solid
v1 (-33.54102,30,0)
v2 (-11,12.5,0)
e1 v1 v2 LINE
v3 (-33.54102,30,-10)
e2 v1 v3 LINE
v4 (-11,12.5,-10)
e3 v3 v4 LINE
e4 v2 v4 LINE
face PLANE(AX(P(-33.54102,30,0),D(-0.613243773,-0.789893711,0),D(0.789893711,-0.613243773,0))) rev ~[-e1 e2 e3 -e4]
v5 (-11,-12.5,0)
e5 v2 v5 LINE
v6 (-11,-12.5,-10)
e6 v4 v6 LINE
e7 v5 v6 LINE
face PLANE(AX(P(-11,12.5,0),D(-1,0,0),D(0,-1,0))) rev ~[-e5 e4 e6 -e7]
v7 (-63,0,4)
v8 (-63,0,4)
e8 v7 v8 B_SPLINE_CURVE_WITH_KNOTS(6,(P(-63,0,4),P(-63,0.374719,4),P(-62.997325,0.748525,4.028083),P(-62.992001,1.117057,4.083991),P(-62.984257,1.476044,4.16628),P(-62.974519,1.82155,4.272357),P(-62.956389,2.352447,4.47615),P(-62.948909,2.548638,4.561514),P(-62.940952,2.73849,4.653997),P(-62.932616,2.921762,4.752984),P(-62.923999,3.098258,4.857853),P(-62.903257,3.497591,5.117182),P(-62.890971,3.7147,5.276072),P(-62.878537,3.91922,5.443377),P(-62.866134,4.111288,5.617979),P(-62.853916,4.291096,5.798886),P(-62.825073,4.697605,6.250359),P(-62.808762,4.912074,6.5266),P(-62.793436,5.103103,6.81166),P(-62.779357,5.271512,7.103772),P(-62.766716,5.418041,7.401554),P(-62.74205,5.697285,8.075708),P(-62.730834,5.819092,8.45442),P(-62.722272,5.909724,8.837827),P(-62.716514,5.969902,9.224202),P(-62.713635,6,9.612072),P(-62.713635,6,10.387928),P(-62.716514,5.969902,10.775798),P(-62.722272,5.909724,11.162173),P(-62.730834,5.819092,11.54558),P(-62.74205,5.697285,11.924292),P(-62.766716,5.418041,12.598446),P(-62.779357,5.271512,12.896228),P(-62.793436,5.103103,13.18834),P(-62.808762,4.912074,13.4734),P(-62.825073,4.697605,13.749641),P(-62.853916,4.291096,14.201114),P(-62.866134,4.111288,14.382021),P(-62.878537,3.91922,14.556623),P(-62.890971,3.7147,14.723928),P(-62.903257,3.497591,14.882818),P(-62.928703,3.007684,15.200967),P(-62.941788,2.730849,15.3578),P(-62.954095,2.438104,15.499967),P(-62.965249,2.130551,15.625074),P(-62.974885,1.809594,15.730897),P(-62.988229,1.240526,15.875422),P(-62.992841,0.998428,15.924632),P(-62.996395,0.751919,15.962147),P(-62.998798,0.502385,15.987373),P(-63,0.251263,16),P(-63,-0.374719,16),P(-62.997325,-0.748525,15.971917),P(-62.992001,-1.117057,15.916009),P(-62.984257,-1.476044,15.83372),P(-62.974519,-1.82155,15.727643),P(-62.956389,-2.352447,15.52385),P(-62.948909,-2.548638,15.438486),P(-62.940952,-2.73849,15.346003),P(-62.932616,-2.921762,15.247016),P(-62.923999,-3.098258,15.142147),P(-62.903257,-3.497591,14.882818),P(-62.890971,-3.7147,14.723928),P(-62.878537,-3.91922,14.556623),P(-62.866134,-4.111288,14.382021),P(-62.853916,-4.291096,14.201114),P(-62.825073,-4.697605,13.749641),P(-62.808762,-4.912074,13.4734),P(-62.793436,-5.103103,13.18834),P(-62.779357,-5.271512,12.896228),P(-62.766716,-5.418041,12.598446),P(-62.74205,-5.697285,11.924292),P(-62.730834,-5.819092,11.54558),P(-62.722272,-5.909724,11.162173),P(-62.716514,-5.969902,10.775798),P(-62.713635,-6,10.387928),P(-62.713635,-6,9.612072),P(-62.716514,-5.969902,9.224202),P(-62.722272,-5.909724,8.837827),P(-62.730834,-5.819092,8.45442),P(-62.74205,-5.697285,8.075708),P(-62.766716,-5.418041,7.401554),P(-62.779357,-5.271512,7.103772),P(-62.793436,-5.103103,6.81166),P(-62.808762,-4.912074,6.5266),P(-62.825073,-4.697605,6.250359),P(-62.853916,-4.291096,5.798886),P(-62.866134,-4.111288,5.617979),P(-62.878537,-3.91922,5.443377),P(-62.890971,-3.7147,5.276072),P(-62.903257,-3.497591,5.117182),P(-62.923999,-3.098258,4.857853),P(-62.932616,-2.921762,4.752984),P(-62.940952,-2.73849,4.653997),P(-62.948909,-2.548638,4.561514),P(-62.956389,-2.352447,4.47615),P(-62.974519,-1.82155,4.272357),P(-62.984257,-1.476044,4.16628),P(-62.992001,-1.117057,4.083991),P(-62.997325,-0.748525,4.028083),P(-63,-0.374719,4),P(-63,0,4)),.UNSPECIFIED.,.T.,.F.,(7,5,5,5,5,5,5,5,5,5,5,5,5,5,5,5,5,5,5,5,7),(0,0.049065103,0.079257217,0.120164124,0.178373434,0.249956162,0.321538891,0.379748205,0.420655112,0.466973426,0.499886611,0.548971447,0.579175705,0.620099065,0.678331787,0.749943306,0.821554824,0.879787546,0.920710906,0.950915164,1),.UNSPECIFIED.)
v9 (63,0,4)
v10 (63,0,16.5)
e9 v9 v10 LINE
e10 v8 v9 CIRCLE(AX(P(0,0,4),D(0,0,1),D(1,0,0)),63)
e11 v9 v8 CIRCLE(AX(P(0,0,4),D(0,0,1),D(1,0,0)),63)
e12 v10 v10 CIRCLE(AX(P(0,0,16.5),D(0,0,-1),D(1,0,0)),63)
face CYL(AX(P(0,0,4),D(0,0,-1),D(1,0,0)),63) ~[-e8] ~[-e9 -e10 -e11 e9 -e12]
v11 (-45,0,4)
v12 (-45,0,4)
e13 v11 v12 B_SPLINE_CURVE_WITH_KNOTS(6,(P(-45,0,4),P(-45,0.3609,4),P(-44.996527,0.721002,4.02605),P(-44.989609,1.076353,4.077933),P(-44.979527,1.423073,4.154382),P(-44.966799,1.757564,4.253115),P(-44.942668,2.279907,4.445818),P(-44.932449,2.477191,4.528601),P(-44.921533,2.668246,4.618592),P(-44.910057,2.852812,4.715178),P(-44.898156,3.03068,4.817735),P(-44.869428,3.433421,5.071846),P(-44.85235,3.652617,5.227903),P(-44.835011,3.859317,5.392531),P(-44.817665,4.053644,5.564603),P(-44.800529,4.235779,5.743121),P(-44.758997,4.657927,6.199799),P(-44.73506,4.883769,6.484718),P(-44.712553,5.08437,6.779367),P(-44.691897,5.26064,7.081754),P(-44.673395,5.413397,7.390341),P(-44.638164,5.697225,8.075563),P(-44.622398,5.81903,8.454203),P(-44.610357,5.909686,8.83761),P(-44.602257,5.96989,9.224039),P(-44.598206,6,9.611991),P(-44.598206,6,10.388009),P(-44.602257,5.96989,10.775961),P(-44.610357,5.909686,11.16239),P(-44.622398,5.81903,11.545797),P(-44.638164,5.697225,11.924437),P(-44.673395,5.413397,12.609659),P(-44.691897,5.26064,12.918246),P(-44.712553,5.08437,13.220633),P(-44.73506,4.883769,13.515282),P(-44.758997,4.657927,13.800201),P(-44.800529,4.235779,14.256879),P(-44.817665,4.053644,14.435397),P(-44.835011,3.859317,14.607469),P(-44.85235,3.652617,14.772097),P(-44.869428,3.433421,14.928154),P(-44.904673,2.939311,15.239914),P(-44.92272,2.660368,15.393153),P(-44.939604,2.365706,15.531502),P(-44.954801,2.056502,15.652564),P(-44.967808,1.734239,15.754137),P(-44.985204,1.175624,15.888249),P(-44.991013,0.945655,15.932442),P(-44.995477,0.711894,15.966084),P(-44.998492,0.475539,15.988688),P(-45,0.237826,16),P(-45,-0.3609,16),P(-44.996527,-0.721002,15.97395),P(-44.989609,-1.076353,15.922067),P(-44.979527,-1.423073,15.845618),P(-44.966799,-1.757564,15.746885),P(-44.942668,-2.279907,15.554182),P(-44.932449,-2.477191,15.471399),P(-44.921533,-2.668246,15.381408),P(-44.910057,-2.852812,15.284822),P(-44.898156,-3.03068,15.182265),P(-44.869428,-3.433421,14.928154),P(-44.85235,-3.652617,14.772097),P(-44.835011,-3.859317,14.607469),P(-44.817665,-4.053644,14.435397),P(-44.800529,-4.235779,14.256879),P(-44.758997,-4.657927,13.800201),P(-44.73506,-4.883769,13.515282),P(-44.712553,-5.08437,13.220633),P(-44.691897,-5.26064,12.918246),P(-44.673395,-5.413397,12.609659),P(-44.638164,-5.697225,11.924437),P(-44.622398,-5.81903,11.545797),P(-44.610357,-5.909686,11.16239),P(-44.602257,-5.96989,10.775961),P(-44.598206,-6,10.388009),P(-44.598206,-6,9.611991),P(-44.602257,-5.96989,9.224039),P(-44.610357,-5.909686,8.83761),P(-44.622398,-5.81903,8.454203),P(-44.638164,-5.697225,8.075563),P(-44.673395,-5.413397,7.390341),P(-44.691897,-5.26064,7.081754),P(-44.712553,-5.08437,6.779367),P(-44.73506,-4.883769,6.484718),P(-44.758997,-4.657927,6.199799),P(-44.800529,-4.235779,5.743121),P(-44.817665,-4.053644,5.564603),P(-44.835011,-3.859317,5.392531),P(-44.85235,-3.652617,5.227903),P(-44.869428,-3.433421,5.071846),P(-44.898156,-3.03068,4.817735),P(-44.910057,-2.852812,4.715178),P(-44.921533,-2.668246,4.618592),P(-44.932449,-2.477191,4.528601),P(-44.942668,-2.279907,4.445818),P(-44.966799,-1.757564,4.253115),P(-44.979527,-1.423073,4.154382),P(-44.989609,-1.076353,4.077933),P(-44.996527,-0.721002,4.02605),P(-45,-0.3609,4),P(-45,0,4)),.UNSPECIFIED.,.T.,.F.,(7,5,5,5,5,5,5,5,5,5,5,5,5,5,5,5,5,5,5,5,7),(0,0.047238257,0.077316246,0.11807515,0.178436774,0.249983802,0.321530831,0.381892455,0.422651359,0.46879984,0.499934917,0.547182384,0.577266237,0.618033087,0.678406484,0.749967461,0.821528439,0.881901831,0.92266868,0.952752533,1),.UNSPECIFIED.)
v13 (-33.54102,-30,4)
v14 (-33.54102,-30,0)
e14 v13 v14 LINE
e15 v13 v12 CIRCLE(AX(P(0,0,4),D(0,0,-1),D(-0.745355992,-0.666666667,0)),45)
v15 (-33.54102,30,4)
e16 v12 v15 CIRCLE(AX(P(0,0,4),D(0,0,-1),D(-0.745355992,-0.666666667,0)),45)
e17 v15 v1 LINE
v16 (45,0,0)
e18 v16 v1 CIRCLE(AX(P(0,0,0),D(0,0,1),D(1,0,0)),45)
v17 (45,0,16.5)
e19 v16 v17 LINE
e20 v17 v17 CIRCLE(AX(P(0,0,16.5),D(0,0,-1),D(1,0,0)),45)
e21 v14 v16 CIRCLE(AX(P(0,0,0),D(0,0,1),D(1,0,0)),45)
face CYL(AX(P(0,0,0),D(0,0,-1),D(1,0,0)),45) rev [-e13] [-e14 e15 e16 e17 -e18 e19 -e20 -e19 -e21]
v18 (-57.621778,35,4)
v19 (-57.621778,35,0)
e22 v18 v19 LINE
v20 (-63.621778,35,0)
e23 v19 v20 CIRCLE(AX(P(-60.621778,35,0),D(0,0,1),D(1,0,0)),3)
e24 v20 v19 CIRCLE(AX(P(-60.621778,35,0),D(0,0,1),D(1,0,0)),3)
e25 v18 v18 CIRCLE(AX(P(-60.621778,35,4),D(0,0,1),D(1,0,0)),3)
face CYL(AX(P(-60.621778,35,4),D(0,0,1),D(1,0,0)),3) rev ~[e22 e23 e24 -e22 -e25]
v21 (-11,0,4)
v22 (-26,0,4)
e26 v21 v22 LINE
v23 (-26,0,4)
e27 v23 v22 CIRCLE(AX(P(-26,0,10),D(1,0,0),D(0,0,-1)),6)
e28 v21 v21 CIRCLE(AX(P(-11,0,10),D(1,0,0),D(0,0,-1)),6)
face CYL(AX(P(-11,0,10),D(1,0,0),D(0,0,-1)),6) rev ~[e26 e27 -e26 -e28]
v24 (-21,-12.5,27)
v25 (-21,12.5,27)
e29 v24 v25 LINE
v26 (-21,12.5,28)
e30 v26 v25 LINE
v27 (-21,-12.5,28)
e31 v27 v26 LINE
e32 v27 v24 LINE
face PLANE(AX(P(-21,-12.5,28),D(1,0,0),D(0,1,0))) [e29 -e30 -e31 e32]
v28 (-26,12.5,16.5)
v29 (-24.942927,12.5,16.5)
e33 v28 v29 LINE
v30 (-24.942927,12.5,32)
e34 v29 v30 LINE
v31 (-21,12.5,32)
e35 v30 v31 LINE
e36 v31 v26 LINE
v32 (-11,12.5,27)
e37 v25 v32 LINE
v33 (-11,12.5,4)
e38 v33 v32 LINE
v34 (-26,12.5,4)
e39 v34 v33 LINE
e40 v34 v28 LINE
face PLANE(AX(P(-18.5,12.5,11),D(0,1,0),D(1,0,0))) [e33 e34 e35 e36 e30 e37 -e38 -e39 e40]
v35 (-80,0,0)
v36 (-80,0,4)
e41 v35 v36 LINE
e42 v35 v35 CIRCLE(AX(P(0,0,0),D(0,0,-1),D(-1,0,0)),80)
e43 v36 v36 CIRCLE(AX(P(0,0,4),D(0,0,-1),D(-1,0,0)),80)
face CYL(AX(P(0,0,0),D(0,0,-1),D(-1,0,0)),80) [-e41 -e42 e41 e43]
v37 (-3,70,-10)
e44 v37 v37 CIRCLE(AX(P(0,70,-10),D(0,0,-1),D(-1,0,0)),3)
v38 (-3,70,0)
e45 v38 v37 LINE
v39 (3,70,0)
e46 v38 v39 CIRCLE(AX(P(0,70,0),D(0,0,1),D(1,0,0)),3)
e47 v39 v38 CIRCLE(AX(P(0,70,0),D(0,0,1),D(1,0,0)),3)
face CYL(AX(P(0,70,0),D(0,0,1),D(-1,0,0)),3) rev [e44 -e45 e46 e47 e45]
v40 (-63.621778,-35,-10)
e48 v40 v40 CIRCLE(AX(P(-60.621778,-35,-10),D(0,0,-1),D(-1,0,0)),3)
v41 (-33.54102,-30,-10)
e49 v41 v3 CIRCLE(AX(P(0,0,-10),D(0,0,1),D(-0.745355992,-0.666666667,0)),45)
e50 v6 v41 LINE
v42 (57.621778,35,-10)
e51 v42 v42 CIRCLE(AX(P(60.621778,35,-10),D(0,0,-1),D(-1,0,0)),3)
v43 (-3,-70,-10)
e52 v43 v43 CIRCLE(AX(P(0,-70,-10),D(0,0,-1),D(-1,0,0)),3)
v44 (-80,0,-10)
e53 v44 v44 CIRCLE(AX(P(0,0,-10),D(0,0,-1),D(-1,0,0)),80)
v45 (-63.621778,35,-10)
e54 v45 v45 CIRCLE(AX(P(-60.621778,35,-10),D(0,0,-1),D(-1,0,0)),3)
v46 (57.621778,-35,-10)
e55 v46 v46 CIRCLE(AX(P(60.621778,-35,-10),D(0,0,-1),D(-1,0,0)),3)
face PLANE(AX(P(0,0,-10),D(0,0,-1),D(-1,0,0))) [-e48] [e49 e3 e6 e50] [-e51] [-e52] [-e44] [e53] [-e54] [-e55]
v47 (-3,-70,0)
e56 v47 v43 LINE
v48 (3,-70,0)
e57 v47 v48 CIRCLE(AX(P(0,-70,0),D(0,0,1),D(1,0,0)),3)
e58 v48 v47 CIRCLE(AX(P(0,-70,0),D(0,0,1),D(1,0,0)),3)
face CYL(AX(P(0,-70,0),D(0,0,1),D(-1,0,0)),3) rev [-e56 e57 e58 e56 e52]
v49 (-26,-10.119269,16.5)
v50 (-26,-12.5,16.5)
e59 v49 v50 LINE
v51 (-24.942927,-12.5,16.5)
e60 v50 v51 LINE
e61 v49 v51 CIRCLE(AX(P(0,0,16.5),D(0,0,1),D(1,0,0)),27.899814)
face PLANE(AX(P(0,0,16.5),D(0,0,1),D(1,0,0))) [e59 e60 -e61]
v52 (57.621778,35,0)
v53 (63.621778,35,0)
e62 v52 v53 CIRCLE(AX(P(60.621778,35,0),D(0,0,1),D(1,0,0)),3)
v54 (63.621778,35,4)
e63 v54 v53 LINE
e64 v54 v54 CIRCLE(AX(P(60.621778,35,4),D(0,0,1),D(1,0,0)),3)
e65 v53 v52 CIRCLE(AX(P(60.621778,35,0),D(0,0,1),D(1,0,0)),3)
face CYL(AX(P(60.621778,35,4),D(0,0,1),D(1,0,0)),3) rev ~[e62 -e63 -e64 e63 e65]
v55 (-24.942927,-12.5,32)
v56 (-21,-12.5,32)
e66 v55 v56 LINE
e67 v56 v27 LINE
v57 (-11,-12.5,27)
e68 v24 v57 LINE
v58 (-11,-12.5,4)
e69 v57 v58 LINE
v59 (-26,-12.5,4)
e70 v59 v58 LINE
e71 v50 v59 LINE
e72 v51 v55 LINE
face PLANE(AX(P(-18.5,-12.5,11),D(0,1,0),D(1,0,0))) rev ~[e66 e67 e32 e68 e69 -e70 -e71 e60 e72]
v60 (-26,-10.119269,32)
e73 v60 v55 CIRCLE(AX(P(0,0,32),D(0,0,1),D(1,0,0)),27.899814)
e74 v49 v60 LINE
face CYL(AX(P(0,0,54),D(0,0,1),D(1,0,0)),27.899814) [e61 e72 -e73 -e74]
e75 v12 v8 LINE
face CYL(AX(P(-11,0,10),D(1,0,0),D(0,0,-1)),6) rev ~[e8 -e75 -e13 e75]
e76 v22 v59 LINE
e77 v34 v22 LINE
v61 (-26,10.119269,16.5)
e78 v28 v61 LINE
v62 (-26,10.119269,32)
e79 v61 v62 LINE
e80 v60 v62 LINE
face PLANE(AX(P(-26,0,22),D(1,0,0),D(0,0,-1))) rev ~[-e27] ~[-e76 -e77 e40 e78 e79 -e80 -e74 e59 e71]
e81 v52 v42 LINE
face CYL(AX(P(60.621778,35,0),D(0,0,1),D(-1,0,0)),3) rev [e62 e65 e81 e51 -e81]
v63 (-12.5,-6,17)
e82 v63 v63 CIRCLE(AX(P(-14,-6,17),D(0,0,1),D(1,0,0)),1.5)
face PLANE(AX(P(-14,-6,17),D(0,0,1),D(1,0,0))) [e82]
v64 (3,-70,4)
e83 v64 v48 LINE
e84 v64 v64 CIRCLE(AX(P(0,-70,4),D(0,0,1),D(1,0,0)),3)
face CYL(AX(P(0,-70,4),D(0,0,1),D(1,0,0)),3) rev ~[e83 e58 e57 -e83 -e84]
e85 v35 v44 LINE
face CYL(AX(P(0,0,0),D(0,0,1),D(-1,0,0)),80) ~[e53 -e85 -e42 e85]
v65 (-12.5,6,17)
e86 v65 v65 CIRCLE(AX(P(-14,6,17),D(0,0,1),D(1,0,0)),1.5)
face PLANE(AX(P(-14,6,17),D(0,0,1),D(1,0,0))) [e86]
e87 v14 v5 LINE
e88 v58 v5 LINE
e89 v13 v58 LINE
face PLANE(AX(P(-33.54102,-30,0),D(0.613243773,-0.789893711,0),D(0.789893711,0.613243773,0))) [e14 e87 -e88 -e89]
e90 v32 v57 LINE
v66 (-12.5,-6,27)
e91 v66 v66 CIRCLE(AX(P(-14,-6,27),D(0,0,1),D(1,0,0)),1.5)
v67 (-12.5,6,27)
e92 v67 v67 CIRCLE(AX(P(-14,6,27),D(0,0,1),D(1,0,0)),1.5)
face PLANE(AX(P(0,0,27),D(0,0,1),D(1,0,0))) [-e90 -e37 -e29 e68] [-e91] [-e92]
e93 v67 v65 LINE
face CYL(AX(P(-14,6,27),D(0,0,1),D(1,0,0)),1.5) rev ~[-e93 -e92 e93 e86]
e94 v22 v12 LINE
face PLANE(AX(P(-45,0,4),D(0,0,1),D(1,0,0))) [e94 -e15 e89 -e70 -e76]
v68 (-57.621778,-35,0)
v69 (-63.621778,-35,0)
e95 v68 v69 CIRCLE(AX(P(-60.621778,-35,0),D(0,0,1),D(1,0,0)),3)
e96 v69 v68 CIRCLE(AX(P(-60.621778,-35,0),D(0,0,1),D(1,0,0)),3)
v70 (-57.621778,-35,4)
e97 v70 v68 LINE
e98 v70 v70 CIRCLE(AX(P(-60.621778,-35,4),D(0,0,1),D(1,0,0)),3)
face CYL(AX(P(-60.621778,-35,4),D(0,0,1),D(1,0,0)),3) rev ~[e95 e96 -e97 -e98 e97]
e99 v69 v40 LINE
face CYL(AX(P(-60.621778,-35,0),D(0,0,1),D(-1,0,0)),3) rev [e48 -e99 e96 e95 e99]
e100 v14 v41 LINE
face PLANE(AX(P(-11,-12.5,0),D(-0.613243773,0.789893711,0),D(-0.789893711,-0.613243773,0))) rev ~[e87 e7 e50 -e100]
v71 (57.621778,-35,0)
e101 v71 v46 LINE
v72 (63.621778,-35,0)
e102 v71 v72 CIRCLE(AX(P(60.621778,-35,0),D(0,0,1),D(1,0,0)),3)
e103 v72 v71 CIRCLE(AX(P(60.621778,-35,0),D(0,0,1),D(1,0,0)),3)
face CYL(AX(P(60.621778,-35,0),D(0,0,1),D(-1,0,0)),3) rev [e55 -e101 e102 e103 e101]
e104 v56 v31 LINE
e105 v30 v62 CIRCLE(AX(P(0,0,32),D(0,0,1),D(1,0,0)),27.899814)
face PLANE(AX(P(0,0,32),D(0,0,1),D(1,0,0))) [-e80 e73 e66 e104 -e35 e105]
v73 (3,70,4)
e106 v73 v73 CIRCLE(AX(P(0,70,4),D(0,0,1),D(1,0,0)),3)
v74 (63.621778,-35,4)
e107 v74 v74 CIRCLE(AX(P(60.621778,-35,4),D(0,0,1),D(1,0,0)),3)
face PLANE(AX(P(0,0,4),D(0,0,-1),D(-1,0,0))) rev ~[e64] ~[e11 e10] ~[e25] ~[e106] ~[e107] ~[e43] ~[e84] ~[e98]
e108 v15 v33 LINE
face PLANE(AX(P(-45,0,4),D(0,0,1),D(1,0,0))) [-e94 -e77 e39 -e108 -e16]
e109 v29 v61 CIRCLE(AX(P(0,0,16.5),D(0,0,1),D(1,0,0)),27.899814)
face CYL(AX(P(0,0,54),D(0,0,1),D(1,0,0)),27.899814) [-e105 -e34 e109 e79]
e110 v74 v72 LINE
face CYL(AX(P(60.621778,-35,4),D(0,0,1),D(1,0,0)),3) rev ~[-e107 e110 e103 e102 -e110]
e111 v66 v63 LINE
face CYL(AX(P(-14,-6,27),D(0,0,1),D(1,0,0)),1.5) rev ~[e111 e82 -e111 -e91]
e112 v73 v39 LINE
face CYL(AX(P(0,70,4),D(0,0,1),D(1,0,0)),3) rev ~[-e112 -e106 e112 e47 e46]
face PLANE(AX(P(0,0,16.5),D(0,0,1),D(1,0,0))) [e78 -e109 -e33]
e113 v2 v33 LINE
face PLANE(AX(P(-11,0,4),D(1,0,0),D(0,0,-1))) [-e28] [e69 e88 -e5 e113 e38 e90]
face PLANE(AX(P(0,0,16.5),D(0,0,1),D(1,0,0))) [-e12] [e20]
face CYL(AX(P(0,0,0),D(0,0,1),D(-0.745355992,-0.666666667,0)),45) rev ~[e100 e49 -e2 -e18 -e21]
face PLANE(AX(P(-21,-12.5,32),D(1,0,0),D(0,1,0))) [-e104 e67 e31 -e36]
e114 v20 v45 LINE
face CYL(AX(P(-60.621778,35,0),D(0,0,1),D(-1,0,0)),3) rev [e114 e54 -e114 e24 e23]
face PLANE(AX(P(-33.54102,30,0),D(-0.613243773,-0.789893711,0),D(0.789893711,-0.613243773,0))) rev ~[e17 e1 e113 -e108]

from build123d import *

# Parameters (mm, degrees)
SKETCH1_R            = 70
SKETCH1_R_2          = 45
BOSS_EXTRUDE1_DEPTH  = 4
SKETCH3_R            = 60
SKETCH3_R_2          = 45
BOSS_EXTRUDE4_DEPTH  = 32
SKETCH6_W            = 16
SKETCH6_H            = 10
SKETCH6_W_2          = 34
BOSS_EXTRUDE5_DEPTH  = 12.5
SKETCH10_W           = 15
SKETCH10_H           = 22
BOSS_EXTRUDE6_DEPTH  = 12.5
SKETCH11_W           = 34
SKETCH11_H           = 4
BOSS_EXTRUDE7_DEPTH  = 30
SKETCH12_W           = 17.229041164
SKETCH12_H           = 10
CUT_EXTRUDE3_DEPTH   = 12.5
CUT_EXTRUDE4_DEPTH   = 12.5
CUT_EXTRUDE5_DEPTH   = 12.5
SKETCH20_W           = 10
SKETCH20_H           = 25
CUT_EXTRUDE11_DEPTH  = 4
SKETCH21_R           = 45
SKETCH21_R_2         = 32.5
BOSS_EXTRUDE8_DEPTH  = 15
SKETCH22_W           = 17.163263372
SKETCH22_H           = 25
CUT_EXTRUDE12_DEPTH  = 5
SKETCH25_R           = 63
SKETCH25_R_2         = 60
BOSS_EXTRUDE9_DEPTH  = 50
SKETCH26_R           = 80
SKETCH26_R_2         = 70
BOSS_EXTRUDE10_DEPTH = 4
SKETCH29_R           = 3
CUT_EXTRUDE14_DEPTH  = 5
SKETCH30_R           = 80
SKETCH30_R_2         = 3
BOSS_EXTRUDE11_DEPTH = 10
SKETCH16_R           = 6
CUT_EXTRUDE10_DEPTH  = 100
SKETCH31_W           = 42
SKETCH31_H           = 25
CUT_EXTRUDE15_DEPTH  = 1
SKETCH33_R           = 81.797304038
SKETCH33_R_2         = 27.899813831
CUT_EXTRUDE17_DEPTH  = 37.5
SKETCH34_R           = 1.5
CUT_EXTRUDE18_DEPTH  = 10


with BuildPart() as part:
    # Sketch1 → Boss-Extrude1 (new body)
    with BuildSketch(Plane.XY):
        Circle(SKETCH1_R)
        Circle(SKETCH1_R_2, mode=Mode.SUBTRACT)
    extrude(amount=BOSS_EXTRUDE1_DEPTH)

    # Sketch3 → Boss-Extrude4 (add)
    with BuildSketch(Plane.XY):
        Circle(SKETCH3_R)
        Circle(SKETCH3_R_2, mode=Mode.SUBTRACT)
    extrude(amount=BOSS_EXTRUDE4_DEPTH)

    # Sketch6 → Boss-Extrude5 (add, symmetric)
    with BuildSketch(Plane(origin=(0, 0, 0), x_dir=(1, 0, 0), z_dir=(0, 1, 0))):
        with Locations((37, -27)):
            Rectangle(SKETCH6_W, SKETCH6_H)
        with Locations((-28, -27)):
            Rectangle(SKETCH6_W_2, SKETCH6_H)
    extrude(amount=BOSS_EXTRUDE5_DEPTH, both=True)

    # Sketch10 → Boss-Extrude6 (add, symmetric)
    with BuildSketch(Plane(origin=(0, 0, 0), x_dir=(1, 0, 0), z_dir=(0, 1, 0))):
        with Locations((-18.5, -11)):
            Rectangle(SKETCH10_W, SKETCH10_H)
    extrude(amount=BOSS_EXTRUDE6_DEPTH, both=True)

    # Sketch11 → Boss-Extrude7 (add, symmetric)
    with BuildSketch(Plane(origin=(0, 0, 0), x_dir=(1, 0, 0), z_dir=(0, 1, 0))):
        with Locations((-28, -2)):
            Rectangle(SKETCH11_W, SKETCH11_H)
    extrude(amount=BOSS_EXTRUDE7_DEPTH, both=True)

    # Sketch12 → Cut-Extrude3 (cut, symmetric)
    with BuildSketch(Plane(origin=(0, 0, 0), x_dir=(1, 0, 0), z_dir=(0, 1, 0))):
        with Locations((-34.614520582, -27)):
            Rectangle(SKETCH12_W, SKETCH12_H)
    extrude(amount=CUT_EXTRUDE3_DEPTH, both=True, mode=Mode.SUBTRACT)

    # Sketch13 → Cut-Extrude4 (cut, symmetric)
    with BuildSketch(Plane.XY):
        Polygon((-33.541019662, 30), (-11, 12.5), (-11, 30), align=None)
    extrude(amount=CUT_EXTRUDE4_DEPTH, both=True, mode=Mode.SUBTRACT)

    # Sketch14 → Cut-Extrude5 (cut, symmetric)
    with BuildSketch(Plane.XY):
        Polygon((-33.541019662, -30), (-11, -12.5), (-11, -30), align=None)
    extrude(amount=CUT_EXTRUDE5_DEPTH, both=True, mode=Mode.SUBTRACT)

    # Sketch20 → Cut-Extrude11 (cut)
    with BuildSketch(Plane.XY.offset(32)):
        with Locations((-16, 0)):
            Rectangle(SKETCH20_W, SKETCH20_H)
        with Locations((34, 0)):
            Rectangle(SKETCH20_W, SKETCH20_H)
    extrude(amount=-CUT_EXTRUDE11_DEPTH, mode=Mode.SUBTRACT)

    # Sketch21 → Boss-Extrude8 (add)
    with BuildSketch(Plane.XY.offset(32)):
        Circle(SKETCH21_R)
        Circle(SKETCH21_R_2, mode=Mode.SUBTRACT)
    extrude(amount=-BOSS_EXTRUDE8_DEPTH)

    # Sketch22 → Cut-Extrude12 (cut)
    with BuildSketch(Plane.XY.offset(32)):
        with Locations((34.647409478, 0)):
            Rectangle(SKETCH22_W, SKETCH22_H)
    extrude(amount=-CUT_EXTRUDE12_DEPTH, mode=Mode.SUBTRACT)

    # Sketch25 → Boss-Extrude9 (add)
    with BuildSketch(Plane.XY.offset(4)):
        Circle(SKETCH25_R)
        Circle(SKETCH25_R_2, mode=Mode.SUBTRACT)
    extrude(amount=BOSS_EXTRUDE9_DEPTH)

    # Sketch26 → Boss-Extrude10 (add)
    with BuildSketch(Plane(origin=(0, 0, 0), x_dir=(-1, 0, 0), z_dir=(0, 0, -1))):
        Circle(SKETCH26_R)
        Circle(SKETCH26_R_2, mode=Mode.SUBTRACT)
    extrude(amount=-BOSS_EXTRUDE10_DEPTH)

    # Sketch29 → Cut-Extrude14 (cut)
    with BuildSketch(Plane.XY.offset(4)):
        with Locations((0, 70)):
            Circle(SKETCH29_R)
        with Locations((60.621778265, 35)):
            Circle(SKETCH29_R)
        with Locations((60.621778265, -35)):
            Circle(SKETCH29_R)
        with Locations((0, -70)):
            Circle(SKETCH29_R)
        with Locations((-60.621778265, -35)):
            Circle(SKETCH29_R)
        with Locations((-60.621778265, 35)):
            Circle(SKETCH29_R)
    extrude(amount=-CUT_EXTRUDE14_DEPTH, mode=Mode.SUBTRACT)

    # Sketch30 → Boss-Extrude11 (add)
    with BuildSketch(Plane(origin=(0, 0, 0), x_dir=(-1, 0, 0), z_dir=(0, 0, -1))):
        Circle(SKETCH30_R)
        with Locations((-60.621778265, 35)):
            Circle(SKETCH30_R_2, mode=Mode.SUBTRACT)
        with Locations((-60.621778265, -35)):
            Circle(SKETCH30_R_2, mode=Mode.SUBTRACT)
        with Locations((0, -70)):
            Circle(SKETCH30_R_2, mode=Mode.SUBTRACT)
        with Locations((60.621778265, -35)):
            Circle(SKETCH30_R_2, mode=Mode.SUBTRACT)
        with Locations((60.621778265, 35)):
            Circle(SKETCH30_R_2, mode=Mode.SUBTRACT)
        with Locations((0, 70)):
            Circle(SKETCH30_R_2, mode=Mode.SUBTRACT)
        with BuildLine():
            Line((11, -12.5), (33.541019662, -30))
            ThreePointArc((33.541019662, -30), (-45, 0), (33.541019662, 30))
            Line((33.541019662, 30), (11, 12.5))
            Line((11, 12.5), (11, -12.5))
        make_face(mode=Mode.SUBTRACT)
    extrude(amount=BOSS_EXTRUDE11_DEPTH)

    # Sketch16 → Cut-Extrude10 (cut)
    with BuildSketch(Plane(origin=(-11, 0, 0), x_dir=(0, 0, -1), z_dir=(1, 0, 0))):
        with Locations((-10, 0)):
            Circle(SKETCH16_R)
    extrude(amount=-CUT_EXTRUDE10_DEPTH, mode=Mode.SUBTRACT)

    # Sketch31 → Cut-Extrude15 (cut)
    with BuildSketch(Plane.XY.offset(28)):
        Rectangle(SKETCH31_W, SKETCH31_H)
    extrude(amount=-CUT_EXTRUDE15_DEPTH, mode=Mode.SUBTRACT)

    # Sketch33 → Cut-Extrude17 (cut)
    with BuildSketch(Plane.XY.offset(54)):
        Circle(SKETCH33_R)
        Circle(SKETCH33_R_2, mode=Mode.SUBTRACT)
    extrude(amount=-CUT_EXTRUDE17_DEPTH, mode=Mode.SUBTRACT)

    # Sketch34 → Cut-Extrude18 (cut)
    with BuildSketch(Plane.XY.offset(27)):
        with Locations((-14, 6)):
            Circle(SKETCH34_R)
        with Locations((-14, -6)):
            Circle(SKETCH34_R)
    extrude(amount=-CUT_EXTRUDE18_DEPTH, mode=Mode.SUBTRACT)


solid = part.part
